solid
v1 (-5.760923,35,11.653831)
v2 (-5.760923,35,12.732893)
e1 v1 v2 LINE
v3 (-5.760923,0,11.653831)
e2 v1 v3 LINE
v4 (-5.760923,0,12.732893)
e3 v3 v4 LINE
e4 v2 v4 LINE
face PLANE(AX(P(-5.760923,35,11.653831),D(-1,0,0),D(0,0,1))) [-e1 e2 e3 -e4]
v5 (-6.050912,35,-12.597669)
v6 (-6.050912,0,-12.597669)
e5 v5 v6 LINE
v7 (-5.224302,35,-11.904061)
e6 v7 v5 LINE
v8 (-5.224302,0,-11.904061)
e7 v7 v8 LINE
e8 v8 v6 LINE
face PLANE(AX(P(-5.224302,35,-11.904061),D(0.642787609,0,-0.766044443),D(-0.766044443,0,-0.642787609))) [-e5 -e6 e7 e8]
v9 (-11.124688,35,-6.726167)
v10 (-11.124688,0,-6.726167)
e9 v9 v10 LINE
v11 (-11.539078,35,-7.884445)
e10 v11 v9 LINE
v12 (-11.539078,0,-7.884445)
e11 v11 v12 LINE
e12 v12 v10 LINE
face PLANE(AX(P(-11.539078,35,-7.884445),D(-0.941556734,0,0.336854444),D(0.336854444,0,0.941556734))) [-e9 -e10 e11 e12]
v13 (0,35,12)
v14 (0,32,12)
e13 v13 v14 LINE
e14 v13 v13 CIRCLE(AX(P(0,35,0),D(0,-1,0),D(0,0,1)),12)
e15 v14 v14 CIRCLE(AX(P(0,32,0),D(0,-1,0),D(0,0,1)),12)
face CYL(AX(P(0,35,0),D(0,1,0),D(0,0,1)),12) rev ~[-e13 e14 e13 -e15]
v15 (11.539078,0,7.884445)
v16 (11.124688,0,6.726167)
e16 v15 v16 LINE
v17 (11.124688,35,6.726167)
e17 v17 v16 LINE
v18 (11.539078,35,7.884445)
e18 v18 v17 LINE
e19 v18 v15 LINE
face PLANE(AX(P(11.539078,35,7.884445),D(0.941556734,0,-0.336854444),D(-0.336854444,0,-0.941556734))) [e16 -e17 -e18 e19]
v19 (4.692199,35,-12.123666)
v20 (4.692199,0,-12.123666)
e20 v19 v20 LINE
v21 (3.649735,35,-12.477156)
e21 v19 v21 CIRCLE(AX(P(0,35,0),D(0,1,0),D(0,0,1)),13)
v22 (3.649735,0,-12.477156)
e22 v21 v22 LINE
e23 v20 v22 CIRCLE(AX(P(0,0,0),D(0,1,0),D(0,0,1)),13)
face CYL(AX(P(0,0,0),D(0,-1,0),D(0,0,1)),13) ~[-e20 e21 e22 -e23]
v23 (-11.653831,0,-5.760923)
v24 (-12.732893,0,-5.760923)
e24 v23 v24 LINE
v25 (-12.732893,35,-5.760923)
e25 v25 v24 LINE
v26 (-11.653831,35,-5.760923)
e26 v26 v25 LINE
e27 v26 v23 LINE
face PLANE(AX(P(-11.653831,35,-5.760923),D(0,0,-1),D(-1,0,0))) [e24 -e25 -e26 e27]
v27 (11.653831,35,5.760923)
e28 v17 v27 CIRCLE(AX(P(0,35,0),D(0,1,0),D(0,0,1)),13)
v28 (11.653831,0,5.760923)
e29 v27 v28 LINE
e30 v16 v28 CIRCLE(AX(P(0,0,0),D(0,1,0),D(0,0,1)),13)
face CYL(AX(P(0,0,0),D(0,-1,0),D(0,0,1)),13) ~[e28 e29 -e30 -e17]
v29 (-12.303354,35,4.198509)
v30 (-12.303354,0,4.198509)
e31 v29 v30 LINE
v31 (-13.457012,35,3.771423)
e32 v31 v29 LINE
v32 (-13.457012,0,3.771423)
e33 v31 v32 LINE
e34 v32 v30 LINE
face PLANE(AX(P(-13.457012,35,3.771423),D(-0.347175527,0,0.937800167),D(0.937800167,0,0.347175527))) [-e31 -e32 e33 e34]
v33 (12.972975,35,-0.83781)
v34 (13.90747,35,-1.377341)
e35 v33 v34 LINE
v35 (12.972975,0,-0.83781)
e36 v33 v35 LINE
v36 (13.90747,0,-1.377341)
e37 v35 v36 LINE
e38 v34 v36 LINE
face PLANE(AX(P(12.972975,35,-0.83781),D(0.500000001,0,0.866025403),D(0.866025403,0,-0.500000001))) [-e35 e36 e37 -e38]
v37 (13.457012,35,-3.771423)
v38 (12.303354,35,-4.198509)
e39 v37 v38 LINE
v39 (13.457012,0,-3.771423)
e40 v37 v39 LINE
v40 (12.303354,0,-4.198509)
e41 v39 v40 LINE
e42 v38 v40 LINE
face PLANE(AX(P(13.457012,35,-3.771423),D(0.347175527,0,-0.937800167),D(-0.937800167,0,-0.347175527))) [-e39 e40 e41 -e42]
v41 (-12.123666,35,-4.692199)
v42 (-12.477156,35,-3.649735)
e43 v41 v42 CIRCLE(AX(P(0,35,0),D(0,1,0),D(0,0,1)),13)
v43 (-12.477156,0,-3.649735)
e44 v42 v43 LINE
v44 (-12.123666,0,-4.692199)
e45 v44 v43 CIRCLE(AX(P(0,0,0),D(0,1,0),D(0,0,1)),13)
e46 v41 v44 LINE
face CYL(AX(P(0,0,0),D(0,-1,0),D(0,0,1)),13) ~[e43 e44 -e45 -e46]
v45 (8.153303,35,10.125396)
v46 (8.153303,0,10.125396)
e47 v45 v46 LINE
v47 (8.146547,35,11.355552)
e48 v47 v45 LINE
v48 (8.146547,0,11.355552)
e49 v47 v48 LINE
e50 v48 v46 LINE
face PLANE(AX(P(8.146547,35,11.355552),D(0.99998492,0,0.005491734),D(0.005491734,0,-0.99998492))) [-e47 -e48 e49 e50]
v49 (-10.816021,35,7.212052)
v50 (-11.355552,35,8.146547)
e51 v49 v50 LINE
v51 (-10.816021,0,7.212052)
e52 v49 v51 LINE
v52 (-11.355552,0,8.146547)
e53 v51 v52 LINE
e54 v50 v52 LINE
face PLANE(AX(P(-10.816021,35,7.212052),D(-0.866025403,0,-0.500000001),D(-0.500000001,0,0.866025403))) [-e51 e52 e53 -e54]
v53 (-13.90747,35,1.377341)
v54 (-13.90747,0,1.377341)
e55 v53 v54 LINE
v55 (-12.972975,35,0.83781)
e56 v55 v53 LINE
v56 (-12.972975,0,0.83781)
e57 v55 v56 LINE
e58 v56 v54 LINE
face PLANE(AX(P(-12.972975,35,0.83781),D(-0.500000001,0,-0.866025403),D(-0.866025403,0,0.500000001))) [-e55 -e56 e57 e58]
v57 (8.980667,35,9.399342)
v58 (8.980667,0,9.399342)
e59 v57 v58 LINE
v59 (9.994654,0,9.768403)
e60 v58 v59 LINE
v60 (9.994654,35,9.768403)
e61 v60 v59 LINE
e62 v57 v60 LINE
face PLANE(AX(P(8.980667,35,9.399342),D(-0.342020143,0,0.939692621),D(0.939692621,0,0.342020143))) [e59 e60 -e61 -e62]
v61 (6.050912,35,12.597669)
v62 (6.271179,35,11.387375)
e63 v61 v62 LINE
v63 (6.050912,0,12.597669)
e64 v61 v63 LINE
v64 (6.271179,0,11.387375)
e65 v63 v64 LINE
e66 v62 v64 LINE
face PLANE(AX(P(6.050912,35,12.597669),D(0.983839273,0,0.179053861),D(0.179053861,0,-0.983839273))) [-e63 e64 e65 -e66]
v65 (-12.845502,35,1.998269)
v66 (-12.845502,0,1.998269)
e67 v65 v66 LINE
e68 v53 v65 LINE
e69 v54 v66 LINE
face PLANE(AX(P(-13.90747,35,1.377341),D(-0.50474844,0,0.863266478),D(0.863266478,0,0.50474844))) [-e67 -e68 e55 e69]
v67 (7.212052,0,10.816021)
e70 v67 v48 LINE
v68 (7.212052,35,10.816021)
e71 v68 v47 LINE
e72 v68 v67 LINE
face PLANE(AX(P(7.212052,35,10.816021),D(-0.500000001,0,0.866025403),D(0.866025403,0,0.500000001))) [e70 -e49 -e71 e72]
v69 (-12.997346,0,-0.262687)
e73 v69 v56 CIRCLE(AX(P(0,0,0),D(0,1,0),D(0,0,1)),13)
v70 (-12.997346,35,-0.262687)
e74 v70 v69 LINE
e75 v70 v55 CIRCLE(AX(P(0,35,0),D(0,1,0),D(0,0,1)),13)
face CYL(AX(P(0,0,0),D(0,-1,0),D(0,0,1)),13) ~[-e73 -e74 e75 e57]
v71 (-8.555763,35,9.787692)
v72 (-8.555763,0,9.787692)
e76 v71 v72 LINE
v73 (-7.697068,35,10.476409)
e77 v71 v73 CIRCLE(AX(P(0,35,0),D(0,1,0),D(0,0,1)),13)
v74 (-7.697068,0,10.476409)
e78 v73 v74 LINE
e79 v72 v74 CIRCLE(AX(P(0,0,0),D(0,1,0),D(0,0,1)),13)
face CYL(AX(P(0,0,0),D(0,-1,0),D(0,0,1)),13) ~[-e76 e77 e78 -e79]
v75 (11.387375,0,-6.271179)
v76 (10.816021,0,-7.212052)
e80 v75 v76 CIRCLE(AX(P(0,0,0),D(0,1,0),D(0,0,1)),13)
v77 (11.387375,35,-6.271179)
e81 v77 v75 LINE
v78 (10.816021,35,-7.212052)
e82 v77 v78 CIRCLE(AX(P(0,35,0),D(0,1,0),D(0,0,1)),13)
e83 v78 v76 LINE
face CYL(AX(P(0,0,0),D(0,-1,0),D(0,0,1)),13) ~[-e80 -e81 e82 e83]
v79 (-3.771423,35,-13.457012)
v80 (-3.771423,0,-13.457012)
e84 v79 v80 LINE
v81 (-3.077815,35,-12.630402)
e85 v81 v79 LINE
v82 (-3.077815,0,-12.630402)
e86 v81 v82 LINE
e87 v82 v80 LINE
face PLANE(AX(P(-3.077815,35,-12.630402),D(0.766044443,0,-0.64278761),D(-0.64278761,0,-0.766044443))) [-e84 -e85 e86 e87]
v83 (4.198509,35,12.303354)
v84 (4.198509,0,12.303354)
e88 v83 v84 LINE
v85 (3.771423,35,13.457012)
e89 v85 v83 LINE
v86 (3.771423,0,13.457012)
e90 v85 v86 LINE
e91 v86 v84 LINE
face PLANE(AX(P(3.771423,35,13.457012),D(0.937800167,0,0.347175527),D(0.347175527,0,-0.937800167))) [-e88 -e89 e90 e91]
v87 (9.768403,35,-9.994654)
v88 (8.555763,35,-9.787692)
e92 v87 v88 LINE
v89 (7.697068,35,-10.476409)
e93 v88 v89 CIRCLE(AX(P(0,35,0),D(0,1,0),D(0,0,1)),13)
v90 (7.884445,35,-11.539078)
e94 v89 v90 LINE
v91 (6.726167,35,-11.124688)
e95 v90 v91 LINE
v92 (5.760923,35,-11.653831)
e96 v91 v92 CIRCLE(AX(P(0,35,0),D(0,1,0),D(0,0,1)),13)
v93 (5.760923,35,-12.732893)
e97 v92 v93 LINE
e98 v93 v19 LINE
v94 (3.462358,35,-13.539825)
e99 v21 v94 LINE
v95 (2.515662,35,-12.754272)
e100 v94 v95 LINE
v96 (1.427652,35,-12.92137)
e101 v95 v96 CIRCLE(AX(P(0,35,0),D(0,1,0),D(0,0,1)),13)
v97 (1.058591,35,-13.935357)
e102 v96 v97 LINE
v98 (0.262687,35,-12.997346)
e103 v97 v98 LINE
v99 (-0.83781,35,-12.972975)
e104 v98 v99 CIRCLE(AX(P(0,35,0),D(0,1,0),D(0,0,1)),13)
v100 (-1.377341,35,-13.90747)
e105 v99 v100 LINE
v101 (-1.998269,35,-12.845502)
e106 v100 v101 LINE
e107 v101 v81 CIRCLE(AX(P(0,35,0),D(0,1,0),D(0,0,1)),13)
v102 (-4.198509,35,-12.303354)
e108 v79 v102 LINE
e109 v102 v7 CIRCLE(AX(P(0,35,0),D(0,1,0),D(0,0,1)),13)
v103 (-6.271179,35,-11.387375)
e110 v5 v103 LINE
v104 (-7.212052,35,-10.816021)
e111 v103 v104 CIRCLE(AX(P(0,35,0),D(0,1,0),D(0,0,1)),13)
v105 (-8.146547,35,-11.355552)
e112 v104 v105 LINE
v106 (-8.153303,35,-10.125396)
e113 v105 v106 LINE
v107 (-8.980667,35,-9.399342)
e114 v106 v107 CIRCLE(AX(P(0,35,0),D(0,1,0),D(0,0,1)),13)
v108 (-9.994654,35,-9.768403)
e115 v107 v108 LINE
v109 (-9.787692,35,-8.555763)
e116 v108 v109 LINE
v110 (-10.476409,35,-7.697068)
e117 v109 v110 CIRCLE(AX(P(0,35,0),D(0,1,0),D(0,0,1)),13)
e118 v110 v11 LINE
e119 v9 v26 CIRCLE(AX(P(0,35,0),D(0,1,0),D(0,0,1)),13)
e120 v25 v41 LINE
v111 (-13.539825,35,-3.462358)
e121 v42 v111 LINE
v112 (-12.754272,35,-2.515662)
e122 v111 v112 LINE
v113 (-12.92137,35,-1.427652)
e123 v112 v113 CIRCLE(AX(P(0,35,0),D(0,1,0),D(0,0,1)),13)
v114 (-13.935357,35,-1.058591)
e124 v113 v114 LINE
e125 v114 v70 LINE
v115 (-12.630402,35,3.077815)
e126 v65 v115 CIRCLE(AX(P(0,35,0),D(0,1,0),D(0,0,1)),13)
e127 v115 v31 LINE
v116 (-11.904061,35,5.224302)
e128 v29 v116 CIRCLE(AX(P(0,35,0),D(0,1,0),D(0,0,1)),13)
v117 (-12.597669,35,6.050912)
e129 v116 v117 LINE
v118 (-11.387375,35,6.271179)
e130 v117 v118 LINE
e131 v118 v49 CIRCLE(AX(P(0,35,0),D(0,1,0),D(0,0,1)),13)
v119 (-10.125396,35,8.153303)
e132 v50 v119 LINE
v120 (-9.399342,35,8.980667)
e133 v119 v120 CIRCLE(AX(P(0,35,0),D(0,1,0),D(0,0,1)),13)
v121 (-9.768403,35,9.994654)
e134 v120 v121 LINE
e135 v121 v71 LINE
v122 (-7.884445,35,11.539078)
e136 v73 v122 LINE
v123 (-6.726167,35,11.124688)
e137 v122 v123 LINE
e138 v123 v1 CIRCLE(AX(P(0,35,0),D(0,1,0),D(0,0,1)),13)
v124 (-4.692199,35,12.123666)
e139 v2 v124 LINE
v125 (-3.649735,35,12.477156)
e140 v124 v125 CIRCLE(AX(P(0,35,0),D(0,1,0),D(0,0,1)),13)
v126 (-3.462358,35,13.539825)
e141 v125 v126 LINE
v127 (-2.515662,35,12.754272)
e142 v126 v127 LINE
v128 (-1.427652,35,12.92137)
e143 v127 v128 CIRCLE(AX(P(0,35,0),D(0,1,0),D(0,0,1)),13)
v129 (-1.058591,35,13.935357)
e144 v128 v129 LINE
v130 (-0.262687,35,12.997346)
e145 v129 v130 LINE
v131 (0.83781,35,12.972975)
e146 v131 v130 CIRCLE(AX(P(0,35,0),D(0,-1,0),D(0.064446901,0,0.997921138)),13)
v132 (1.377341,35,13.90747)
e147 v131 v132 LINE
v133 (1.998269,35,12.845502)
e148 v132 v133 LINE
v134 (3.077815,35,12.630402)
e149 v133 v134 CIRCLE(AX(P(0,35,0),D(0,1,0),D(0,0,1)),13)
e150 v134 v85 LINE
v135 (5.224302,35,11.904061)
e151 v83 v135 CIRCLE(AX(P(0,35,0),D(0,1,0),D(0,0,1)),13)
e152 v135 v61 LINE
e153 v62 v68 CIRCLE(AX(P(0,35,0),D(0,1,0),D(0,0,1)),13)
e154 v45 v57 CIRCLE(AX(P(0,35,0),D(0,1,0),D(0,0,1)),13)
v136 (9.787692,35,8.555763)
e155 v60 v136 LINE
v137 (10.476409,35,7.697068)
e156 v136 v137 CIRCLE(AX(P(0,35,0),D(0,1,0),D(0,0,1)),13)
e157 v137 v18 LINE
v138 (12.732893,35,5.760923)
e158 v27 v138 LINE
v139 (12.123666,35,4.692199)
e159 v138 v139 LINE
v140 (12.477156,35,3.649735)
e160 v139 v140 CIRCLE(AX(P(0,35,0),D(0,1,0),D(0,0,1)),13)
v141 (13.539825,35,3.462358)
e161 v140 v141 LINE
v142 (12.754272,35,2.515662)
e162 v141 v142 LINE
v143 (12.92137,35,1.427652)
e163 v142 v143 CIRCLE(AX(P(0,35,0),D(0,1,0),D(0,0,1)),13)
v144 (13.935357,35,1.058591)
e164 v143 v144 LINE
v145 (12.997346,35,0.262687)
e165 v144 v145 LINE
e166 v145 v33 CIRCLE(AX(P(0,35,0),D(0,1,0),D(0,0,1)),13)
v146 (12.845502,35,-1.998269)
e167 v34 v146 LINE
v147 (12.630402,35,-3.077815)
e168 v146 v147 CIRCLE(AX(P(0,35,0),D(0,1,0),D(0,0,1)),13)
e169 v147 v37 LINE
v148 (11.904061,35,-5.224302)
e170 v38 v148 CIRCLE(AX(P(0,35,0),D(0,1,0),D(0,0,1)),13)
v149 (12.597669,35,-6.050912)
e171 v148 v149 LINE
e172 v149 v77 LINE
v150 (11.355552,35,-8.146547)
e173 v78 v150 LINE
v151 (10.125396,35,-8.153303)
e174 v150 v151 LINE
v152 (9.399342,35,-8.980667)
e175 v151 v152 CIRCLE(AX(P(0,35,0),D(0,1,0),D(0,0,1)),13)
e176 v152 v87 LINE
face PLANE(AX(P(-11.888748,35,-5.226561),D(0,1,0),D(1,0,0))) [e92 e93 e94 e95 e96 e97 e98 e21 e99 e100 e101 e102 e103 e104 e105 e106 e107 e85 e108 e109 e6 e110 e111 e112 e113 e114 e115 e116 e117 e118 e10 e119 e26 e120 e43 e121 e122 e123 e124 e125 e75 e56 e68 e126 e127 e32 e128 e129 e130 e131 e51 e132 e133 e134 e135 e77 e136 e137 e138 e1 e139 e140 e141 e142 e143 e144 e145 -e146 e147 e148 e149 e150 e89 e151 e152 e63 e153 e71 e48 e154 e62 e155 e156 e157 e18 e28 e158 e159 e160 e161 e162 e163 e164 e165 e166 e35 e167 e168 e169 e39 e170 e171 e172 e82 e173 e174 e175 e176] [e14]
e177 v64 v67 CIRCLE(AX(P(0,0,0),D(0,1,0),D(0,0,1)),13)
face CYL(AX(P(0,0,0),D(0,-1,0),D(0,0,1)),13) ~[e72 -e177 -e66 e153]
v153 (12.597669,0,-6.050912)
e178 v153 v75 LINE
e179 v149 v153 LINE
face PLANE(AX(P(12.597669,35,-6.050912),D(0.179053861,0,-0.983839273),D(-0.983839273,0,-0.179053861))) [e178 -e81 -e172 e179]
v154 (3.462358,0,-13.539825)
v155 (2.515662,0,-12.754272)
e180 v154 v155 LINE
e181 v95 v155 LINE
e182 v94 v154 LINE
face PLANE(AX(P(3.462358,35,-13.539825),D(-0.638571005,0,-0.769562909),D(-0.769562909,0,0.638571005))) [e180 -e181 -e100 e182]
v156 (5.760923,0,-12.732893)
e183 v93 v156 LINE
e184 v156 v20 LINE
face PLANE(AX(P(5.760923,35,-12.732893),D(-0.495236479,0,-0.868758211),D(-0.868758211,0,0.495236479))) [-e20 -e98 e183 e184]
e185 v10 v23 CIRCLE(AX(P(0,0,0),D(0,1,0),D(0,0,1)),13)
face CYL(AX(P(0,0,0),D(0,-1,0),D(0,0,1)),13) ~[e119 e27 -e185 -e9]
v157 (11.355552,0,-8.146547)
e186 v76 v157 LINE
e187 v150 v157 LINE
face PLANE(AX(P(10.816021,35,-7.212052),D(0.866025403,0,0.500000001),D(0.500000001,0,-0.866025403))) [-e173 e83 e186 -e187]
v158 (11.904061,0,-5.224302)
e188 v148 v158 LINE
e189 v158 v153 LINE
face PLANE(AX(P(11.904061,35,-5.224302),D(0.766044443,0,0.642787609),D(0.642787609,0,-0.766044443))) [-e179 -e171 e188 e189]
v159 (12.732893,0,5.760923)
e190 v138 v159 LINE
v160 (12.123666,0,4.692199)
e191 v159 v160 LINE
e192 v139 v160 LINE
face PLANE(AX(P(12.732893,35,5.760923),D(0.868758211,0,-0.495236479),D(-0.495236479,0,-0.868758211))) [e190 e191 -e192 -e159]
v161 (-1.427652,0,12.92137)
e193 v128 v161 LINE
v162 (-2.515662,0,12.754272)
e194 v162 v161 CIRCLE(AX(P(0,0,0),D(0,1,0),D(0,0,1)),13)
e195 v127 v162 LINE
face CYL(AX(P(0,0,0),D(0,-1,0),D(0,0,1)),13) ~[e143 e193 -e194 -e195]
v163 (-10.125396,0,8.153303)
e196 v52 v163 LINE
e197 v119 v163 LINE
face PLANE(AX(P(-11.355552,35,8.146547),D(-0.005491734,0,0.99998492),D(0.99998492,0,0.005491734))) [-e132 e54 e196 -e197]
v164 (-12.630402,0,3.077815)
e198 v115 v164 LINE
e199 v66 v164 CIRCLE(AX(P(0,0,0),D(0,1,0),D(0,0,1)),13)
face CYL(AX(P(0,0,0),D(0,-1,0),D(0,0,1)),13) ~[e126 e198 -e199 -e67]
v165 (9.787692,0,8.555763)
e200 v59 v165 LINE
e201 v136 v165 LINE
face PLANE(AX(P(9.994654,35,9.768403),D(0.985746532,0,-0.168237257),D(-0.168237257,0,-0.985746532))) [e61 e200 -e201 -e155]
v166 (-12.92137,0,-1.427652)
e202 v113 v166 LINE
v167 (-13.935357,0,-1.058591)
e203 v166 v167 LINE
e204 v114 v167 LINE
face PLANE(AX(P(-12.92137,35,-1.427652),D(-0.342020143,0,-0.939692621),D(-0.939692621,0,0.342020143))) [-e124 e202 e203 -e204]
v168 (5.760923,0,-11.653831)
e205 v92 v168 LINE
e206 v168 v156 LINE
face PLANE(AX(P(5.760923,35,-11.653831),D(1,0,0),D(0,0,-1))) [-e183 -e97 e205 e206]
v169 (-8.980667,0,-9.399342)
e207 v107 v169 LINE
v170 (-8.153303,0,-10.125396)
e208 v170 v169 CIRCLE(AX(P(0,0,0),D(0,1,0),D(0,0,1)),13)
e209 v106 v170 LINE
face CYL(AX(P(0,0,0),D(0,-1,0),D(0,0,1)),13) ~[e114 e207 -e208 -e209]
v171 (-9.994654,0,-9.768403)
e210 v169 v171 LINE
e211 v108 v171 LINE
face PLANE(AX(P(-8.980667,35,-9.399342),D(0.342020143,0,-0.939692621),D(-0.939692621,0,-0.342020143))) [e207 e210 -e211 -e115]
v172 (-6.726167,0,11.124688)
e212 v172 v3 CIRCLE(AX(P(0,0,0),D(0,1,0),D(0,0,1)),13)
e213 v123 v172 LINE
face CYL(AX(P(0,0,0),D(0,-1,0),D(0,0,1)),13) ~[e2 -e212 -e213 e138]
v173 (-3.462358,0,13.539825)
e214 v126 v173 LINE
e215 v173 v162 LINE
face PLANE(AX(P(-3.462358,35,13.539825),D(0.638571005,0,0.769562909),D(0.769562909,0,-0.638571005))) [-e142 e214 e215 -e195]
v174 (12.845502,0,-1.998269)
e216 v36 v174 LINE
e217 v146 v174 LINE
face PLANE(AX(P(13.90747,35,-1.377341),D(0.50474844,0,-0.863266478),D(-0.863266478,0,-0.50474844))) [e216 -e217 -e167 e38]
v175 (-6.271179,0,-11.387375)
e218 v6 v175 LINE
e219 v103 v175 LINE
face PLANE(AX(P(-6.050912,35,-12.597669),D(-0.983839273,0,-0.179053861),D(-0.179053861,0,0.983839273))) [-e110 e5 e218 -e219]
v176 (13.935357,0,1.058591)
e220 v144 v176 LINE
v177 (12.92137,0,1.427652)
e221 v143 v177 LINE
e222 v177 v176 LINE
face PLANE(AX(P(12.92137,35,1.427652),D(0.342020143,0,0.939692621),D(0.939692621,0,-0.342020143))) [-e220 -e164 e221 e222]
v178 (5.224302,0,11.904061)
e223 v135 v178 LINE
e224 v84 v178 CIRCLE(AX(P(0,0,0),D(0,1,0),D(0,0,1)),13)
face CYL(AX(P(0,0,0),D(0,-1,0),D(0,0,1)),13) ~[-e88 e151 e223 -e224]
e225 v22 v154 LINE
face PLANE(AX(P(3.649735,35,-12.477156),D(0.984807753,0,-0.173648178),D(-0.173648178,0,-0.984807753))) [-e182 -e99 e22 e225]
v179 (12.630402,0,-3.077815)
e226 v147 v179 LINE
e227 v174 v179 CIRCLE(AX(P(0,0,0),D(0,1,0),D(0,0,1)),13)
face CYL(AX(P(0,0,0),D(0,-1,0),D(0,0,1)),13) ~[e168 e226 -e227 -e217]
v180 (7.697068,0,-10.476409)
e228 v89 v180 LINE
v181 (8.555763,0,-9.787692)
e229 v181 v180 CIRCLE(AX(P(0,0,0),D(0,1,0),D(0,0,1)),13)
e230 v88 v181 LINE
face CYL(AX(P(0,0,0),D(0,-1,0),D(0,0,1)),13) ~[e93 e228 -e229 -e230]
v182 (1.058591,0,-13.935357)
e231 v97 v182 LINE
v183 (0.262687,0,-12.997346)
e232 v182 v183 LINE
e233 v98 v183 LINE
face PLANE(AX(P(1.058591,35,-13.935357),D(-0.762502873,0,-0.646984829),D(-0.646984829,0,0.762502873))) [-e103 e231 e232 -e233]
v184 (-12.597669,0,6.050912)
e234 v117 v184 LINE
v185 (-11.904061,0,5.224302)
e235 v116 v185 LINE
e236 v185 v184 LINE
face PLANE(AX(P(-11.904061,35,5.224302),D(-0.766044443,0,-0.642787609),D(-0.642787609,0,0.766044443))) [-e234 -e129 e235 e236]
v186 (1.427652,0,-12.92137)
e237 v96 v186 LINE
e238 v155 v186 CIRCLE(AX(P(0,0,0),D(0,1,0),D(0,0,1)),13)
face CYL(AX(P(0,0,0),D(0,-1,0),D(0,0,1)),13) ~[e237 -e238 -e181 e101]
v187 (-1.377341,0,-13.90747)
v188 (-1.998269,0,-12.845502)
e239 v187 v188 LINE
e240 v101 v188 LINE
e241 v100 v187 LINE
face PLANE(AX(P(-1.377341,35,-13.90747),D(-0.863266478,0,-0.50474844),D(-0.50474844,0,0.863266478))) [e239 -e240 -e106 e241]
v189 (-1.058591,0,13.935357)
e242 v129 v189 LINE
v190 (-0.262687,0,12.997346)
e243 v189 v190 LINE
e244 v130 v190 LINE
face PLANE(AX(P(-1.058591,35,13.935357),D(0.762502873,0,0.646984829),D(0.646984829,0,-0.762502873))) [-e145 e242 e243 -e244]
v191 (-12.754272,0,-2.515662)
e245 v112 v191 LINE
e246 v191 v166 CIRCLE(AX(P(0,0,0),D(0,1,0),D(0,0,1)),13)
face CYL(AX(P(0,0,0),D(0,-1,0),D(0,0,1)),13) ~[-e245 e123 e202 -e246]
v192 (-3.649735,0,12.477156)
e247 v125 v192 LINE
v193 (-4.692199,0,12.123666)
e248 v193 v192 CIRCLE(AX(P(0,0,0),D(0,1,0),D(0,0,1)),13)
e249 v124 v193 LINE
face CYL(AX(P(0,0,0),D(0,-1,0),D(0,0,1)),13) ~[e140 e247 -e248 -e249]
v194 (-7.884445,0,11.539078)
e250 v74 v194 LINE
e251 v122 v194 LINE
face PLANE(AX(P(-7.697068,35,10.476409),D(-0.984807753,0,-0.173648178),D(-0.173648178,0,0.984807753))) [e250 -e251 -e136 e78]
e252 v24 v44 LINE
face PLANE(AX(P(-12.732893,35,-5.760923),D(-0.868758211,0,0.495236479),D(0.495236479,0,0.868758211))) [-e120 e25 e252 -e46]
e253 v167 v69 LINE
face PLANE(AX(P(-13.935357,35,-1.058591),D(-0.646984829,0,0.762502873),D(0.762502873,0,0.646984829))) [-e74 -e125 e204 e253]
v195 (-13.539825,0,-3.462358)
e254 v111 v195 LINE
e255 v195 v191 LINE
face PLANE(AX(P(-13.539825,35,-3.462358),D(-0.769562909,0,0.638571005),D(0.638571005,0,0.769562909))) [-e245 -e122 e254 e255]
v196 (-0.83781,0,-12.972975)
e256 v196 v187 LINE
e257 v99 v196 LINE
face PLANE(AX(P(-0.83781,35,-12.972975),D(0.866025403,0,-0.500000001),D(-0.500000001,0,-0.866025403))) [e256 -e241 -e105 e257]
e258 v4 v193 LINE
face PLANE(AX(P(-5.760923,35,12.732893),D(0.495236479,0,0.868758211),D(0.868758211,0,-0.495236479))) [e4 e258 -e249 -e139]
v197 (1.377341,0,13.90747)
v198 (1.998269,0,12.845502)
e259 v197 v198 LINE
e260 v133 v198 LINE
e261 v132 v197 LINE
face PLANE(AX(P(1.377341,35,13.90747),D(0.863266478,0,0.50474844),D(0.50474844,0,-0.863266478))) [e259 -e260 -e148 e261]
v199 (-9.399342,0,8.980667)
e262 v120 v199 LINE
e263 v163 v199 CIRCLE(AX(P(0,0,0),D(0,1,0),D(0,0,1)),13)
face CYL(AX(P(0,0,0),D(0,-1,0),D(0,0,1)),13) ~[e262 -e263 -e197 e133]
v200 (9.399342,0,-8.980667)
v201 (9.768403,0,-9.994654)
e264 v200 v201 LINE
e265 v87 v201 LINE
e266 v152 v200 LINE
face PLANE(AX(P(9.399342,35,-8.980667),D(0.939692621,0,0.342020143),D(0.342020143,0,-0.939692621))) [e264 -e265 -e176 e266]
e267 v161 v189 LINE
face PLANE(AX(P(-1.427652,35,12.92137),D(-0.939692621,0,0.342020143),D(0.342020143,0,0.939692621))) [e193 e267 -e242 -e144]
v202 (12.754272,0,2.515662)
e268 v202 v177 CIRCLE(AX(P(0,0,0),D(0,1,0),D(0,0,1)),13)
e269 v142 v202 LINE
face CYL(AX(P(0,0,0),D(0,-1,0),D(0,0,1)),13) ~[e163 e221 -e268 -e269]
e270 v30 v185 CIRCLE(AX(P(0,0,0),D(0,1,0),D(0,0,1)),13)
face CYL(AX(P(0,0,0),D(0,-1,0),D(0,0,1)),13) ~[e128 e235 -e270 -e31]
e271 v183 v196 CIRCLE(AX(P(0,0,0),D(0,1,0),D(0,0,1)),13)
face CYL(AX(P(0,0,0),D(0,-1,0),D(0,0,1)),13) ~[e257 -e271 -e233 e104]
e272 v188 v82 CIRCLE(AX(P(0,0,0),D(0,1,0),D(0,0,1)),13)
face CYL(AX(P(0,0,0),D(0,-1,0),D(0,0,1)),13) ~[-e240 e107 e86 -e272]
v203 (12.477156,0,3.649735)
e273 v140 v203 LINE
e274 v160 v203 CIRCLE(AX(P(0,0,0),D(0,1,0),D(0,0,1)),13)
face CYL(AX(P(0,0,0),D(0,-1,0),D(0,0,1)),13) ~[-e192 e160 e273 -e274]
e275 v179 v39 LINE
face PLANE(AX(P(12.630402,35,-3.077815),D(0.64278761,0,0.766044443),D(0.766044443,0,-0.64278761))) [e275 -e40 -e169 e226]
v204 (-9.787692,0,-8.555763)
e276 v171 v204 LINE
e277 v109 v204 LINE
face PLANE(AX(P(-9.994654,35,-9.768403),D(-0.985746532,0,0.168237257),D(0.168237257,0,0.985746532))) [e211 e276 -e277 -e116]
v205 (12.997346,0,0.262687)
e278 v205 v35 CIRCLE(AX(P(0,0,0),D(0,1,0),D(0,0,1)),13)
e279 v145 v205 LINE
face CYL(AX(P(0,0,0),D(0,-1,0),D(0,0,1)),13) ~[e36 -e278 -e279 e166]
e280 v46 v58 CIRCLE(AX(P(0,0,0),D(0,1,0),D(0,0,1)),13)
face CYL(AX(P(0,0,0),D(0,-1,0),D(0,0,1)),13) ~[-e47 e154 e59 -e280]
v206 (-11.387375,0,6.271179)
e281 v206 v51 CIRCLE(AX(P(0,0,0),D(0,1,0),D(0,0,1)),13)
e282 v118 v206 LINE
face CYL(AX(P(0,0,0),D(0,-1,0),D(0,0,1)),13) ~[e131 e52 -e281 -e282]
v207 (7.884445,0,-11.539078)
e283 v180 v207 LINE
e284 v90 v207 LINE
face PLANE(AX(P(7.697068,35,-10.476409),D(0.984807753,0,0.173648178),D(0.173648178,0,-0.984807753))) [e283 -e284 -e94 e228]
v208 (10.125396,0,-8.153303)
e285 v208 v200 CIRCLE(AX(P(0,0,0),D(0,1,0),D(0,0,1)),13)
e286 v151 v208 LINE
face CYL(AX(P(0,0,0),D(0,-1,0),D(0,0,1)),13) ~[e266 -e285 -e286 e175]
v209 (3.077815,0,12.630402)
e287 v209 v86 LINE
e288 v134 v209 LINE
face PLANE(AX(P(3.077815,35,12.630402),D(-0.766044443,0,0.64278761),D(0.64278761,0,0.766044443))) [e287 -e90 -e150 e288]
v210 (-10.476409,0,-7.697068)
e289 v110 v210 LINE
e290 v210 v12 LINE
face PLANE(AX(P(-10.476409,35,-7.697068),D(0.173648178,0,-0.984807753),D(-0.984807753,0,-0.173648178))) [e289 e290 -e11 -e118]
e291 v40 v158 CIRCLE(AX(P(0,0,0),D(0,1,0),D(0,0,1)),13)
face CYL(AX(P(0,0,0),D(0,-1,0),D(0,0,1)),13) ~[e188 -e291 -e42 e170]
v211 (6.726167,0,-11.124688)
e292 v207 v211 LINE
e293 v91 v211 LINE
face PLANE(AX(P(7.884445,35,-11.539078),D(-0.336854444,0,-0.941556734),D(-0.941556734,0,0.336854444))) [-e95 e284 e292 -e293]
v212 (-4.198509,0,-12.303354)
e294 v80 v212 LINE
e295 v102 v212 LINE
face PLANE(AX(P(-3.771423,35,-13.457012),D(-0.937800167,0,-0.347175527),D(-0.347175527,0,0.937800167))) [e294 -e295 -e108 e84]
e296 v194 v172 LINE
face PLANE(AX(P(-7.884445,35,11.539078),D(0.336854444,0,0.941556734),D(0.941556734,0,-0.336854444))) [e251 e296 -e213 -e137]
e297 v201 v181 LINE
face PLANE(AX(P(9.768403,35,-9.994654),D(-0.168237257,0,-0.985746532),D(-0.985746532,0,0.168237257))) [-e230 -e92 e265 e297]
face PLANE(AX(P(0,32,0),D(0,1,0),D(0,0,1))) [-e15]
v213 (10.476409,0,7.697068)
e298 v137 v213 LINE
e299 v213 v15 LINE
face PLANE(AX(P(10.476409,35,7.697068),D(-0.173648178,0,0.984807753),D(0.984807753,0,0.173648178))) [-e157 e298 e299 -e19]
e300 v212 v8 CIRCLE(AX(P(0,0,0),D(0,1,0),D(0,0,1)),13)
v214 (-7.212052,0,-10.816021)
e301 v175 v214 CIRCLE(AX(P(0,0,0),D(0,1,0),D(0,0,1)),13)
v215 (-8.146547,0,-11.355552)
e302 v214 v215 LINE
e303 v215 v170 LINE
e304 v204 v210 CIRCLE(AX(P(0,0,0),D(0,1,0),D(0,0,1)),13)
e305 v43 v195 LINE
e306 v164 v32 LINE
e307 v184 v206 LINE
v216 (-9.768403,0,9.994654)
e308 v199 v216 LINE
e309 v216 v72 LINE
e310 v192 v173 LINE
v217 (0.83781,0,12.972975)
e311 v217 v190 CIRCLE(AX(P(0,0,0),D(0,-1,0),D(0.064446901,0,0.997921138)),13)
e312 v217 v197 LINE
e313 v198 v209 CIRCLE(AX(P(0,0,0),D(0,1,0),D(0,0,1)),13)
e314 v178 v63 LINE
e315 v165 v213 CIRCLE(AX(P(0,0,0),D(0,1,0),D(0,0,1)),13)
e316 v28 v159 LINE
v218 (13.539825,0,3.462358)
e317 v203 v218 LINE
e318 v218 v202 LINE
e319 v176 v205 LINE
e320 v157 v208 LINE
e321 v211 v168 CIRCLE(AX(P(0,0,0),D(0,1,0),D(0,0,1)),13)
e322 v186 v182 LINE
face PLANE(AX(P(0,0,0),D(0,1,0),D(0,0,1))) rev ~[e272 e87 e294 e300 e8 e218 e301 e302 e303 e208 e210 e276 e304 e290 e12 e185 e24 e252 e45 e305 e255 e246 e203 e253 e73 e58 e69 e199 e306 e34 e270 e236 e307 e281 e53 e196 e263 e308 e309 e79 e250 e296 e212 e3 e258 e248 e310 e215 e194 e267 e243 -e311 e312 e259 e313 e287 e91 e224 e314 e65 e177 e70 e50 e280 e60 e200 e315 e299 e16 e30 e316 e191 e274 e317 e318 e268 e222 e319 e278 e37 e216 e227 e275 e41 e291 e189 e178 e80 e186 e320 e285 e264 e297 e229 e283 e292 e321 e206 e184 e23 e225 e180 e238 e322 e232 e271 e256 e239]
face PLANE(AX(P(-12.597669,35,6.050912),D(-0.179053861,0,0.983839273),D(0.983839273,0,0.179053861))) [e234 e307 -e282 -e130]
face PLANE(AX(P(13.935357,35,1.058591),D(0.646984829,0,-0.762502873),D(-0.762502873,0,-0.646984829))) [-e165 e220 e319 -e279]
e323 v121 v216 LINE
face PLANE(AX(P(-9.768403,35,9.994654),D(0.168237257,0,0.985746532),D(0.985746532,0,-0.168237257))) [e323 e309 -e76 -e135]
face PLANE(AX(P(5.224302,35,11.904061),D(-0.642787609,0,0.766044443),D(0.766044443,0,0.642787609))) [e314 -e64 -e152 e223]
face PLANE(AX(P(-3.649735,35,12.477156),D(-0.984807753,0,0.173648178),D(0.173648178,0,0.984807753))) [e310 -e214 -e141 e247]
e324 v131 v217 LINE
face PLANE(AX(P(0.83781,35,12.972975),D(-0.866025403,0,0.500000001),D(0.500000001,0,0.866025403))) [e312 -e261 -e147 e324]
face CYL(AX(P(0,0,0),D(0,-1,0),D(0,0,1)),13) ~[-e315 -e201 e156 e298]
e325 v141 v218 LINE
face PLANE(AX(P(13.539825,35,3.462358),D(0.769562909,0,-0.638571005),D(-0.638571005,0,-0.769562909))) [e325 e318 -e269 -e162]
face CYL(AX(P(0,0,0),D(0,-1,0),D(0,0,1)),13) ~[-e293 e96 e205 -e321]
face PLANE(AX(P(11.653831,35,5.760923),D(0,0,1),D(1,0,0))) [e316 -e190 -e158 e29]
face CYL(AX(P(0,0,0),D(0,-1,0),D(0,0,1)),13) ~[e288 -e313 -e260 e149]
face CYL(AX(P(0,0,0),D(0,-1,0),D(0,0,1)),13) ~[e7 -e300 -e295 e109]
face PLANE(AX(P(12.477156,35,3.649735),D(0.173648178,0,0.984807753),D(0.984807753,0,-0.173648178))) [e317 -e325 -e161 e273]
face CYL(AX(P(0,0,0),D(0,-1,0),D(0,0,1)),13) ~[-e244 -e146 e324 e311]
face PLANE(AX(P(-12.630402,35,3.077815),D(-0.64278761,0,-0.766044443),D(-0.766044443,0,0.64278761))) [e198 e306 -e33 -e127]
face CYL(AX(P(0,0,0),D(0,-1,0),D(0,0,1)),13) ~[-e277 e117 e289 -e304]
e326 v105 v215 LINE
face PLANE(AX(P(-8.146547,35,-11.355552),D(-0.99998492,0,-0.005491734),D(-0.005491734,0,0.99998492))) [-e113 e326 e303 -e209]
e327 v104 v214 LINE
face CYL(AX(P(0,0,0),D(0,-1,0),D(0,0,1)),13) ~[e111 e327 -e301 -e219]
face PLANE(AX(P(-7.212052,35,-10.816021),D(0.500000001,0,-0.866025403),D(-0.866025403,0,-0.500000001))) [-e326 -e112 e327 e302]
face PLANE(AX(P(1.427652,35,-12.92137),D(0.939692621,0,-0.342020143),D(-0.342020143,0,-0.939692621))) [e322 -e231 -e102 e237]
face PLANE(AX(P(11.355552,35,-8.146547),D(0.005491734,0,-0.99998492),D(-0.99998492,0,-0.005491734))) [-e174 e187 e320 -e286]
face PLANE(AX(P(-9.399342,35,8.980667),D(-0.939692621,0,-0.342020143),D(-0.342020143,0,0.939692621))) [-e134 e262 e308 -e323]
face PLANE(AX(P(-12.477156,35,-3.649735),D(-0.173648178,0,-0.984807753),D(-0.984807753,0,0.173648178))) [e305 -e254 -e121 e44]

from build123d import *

# Parameters (mm, degrees)
SKETCH_1_R          = 13
EXTRUDE_1_DEPTH     = 35
SKETCH_2_R          = 12
CUT_EXTRUDE_1_DEPTH = 3
EXTRUDE_2_DEPTH     = 35


with BuildPart() as part:
    # 草图1 → 凸台-拉伸1 (new body)
    with BuildSketch(Plane(origin=(0, 0, 0), x_dir=(1, 0, 0), z_dir=(0, 1, 0))):
        with Locations(Location((0, 0, 0), (0, 0, 270))):
            Circle(SKETCH_1_R)
    extrude(amount=EXTRUDE_1_DEPTH)

    # 草图2 → 切除-拉伸1 (cut)
    with BuildSketch(Plane(origin=(0, 35, 0), x_dir=(1, 0, 0), z_dir=(0, 1, 0))):
        with Locations(Location((0, 0, 0), (0, 0, 270))):
            Circle(SKETCH_2_R)
    extrude(amount=-CUT_EXTRUDE_1_DEPTH, mode=Mode.SUBTRACT)

    # 草图3 → 凸台-拉伸2 (add, through all)
    with BuildSketch(Plane(origin=(0, 35, 0), x_dir=(1, 0, 0), z_dir=(0, 1, 0))):
        Polygon((-12.123665589, 4.692199131), (-11.044603538, 4.692199131), (-11.653830585, 5.760922904), (-12.732892635, 5.760922904), align=None)
        Polygon((-11.124688039, 6.726166519), (-10.062019365, 6.53878936), (-10.476408948, 7.697067984), (-11.539077622, 7.884445143), align=None)
        Polygon((-9.787692472, 8.555762741), (-8.773705825, 8.186701784), (-8.980666927, 9.399341549), (-9.994653573, 9.768402506), align=None)
        Polygon((-8.153302822, 10.125396442), (-7.218807673, 9.585865416), (-7.212051886, 10.816020876), (-8.146547034, 11.355551902), align=None)
        Polygon((-6.271179191, 11.387375095), (-5.444569703, 10.693767379), (-5.224302297, 11.904060883), (-6.050911785, 12.597668599), align=None)
        Polygon((-4.198508954, 12.303354118), (-3.504901238, 11.47674463), (-3.077814927, 12.630402023), (-3.771422644, 13.457011511), align=None)
        Polygon((-1.998269147, 12.845501953), (-1.458738122, 11.911006804), (-0.837809708, 12.97297479), (-1.377340734, 13.907469938), align=None)
        Polygon((0.262687056, 12.99734571), (0.631748014, 11.983359064), (1.427651935, 12.921370282), (1.058590978, 13.935356928), align=None)
        Polygon((2.515661647, 12.754271695), (2.703038805, 11.691603022), (3.649735097, 12.477156476), (3.462357938, 13.53982515), align=None)
        Polygon((4.692199131, 12.123665589), (4.692199131, 11.044603538), (5.760922904, 11.653830585), (5.760922904, 12.732892635), align=None)
        Polygon((6.726166519, 11.124688039), (6.53878936, 10.062019365), (7.697067984, 10.476408948), (7.884445143, 11.539077622), align=None)
        Polygon((8.555762741, 9.787692472), (8.186701784, 8.773705825), (9.399341549, 8.980666927), (9.768402506, 9.994653573), align=None)
        Polygon((10.125396442, 8.153302822), (9.585865416, 7.218807673), (10.816020876, 7.212051886), (11.355551902, 8.146547034), align=None)
        Polygon((11.387375095, 6.271179191), (10.693767379, 5.444569703), (11.904060883, 5.224302297), (12.597668599, 6.050911785), align=None)
        Polygon((12.303354118, 4.198508954), (11.47674463, 3.504901238), (12.630402023, 3.077814927), (13.457011511, 3.771422644), align=None)
        Polygon((12.845501953, 1.998269147), (11.911006804, 1.458738122), (12.97297479, 0.837809708), (13.907469938, 1.377340734), align=None)
        Polygon((12.99734571, -0.262687056), (11.983359064, -0.631748014), (12.921370282, -1.427651935), (13.935356928, -1.058590978), align=None)
        Polygon((12.754271695, -2.515661647), (11.691603022, -2.703038805), (12.477156476, -3.649735097), (13.53982515, -3.462357938), align=None)
        Polygon((12.123665589, -4.692199131), (11.044603538, -4.692199131), (11.653830585, -5.760922904), (12.732892635, -5.760922904), align=None)
        Polygon((11.124688039, -6.726166519), (10.062019365, -6.53878936), (10.476408948, -7.697067984), (11.539077622, -7.884445143), align=None)
        Polygon((9.787692472, -8.555762741), (8.773705825, -8.186701784), (8.980666927, -9.399341549), (9.994653573, -9.768402506), align=None)
        Polygon((8.153302822, -10.125396442), (7.218807673, -9.585865416), (7.212051886, -10.816020876), (8.146547034, -11.355551902), align=None)
        Polygon((6.271179191, -11.387375095), (5.444569703, -10.693767379), (5.224302297, -11.904060883), (6.050911785, -12.597668599), align=None)
        Polygon((4.198508954, -12.303354118), (3.504901238, -11.47674463), (3.077814927, -12.630402023), (3.771422644, -13.457011511), align=None)
        Polygon((1.998269147, -12.845501953), (1.458738122, -11.911006804), (0.837809708, -12.97297479), (1.377340734, -13.907469938), align=None)
        Polygon((-0.262687056, -12.99734571), (-0.631748014, -11.983359064), (-1.427651935, -12.921370282), (-1.058590978, -13.935356928), align=None)
        Polygon((-2.515661647, -12.754271695), (-2.703038805, -11.691603022), (-3.649735097, -12.477156476), (-3.462357938, -13.53982515), align=None)
        Polygon((-4.692199131, -12.123665589), (-4.692199131, -11.044603538), (-5.760922904, -11.653830585), (-5.760922904, -12.732892635), align=None)
        Polygon((-6.726166519, -11.124688039), (-6.53878936, -10.062019365), (-7.697067984, -10.476408948), (-7.884445143, -11.539077622), align=None)
        Polygon((-8.555762741, -9.787692472), (-8.186701784, -8.773705825), (-9.399341549, -8.980666927), (-9.768402506, -9.994653573), align=None)
        Polygon((-10.125396442, -8.153302822), (-9.585865416, -7.218807673), (-10.816020876, -7.212051886), (-11.355551902, -8.146547034), align=None)
        Polygon((-11.387375095, -6.271179191), (-10.693767379, -5.444569703), (-11.904060883, -5.224302297), (-12.597668599, -6.050911785), align=None)
        Polygon((-12.303354118, -4.198508954), (-11.47674463, -3.504901238), (-12.630402023, -3.077814927), (-13.457011511, -3.771422644), align=None)
        Polygon((-12.845501953, -1.998269147), (-11.911006804, -1.458738122), (-12.97297479, -0.837809708), (-13.907469938, -1.377340734), align=None)
        Polygon((-12.99734571, 0.262687056), (-11.983359064, 0.631748014), (-12.921370282, 1.427651935), (-13.935356928, 1.058590978), align=None)
        Polygon((-12.754271695, 2.515661647), (-11.691603022, 2.703038805), (-12.477156476, 3.649735097), (-13.53982515, 3.462357938), align=None)
    extrude(amount=-EXTRUDE_2_DEPTH)


solid = part.part
